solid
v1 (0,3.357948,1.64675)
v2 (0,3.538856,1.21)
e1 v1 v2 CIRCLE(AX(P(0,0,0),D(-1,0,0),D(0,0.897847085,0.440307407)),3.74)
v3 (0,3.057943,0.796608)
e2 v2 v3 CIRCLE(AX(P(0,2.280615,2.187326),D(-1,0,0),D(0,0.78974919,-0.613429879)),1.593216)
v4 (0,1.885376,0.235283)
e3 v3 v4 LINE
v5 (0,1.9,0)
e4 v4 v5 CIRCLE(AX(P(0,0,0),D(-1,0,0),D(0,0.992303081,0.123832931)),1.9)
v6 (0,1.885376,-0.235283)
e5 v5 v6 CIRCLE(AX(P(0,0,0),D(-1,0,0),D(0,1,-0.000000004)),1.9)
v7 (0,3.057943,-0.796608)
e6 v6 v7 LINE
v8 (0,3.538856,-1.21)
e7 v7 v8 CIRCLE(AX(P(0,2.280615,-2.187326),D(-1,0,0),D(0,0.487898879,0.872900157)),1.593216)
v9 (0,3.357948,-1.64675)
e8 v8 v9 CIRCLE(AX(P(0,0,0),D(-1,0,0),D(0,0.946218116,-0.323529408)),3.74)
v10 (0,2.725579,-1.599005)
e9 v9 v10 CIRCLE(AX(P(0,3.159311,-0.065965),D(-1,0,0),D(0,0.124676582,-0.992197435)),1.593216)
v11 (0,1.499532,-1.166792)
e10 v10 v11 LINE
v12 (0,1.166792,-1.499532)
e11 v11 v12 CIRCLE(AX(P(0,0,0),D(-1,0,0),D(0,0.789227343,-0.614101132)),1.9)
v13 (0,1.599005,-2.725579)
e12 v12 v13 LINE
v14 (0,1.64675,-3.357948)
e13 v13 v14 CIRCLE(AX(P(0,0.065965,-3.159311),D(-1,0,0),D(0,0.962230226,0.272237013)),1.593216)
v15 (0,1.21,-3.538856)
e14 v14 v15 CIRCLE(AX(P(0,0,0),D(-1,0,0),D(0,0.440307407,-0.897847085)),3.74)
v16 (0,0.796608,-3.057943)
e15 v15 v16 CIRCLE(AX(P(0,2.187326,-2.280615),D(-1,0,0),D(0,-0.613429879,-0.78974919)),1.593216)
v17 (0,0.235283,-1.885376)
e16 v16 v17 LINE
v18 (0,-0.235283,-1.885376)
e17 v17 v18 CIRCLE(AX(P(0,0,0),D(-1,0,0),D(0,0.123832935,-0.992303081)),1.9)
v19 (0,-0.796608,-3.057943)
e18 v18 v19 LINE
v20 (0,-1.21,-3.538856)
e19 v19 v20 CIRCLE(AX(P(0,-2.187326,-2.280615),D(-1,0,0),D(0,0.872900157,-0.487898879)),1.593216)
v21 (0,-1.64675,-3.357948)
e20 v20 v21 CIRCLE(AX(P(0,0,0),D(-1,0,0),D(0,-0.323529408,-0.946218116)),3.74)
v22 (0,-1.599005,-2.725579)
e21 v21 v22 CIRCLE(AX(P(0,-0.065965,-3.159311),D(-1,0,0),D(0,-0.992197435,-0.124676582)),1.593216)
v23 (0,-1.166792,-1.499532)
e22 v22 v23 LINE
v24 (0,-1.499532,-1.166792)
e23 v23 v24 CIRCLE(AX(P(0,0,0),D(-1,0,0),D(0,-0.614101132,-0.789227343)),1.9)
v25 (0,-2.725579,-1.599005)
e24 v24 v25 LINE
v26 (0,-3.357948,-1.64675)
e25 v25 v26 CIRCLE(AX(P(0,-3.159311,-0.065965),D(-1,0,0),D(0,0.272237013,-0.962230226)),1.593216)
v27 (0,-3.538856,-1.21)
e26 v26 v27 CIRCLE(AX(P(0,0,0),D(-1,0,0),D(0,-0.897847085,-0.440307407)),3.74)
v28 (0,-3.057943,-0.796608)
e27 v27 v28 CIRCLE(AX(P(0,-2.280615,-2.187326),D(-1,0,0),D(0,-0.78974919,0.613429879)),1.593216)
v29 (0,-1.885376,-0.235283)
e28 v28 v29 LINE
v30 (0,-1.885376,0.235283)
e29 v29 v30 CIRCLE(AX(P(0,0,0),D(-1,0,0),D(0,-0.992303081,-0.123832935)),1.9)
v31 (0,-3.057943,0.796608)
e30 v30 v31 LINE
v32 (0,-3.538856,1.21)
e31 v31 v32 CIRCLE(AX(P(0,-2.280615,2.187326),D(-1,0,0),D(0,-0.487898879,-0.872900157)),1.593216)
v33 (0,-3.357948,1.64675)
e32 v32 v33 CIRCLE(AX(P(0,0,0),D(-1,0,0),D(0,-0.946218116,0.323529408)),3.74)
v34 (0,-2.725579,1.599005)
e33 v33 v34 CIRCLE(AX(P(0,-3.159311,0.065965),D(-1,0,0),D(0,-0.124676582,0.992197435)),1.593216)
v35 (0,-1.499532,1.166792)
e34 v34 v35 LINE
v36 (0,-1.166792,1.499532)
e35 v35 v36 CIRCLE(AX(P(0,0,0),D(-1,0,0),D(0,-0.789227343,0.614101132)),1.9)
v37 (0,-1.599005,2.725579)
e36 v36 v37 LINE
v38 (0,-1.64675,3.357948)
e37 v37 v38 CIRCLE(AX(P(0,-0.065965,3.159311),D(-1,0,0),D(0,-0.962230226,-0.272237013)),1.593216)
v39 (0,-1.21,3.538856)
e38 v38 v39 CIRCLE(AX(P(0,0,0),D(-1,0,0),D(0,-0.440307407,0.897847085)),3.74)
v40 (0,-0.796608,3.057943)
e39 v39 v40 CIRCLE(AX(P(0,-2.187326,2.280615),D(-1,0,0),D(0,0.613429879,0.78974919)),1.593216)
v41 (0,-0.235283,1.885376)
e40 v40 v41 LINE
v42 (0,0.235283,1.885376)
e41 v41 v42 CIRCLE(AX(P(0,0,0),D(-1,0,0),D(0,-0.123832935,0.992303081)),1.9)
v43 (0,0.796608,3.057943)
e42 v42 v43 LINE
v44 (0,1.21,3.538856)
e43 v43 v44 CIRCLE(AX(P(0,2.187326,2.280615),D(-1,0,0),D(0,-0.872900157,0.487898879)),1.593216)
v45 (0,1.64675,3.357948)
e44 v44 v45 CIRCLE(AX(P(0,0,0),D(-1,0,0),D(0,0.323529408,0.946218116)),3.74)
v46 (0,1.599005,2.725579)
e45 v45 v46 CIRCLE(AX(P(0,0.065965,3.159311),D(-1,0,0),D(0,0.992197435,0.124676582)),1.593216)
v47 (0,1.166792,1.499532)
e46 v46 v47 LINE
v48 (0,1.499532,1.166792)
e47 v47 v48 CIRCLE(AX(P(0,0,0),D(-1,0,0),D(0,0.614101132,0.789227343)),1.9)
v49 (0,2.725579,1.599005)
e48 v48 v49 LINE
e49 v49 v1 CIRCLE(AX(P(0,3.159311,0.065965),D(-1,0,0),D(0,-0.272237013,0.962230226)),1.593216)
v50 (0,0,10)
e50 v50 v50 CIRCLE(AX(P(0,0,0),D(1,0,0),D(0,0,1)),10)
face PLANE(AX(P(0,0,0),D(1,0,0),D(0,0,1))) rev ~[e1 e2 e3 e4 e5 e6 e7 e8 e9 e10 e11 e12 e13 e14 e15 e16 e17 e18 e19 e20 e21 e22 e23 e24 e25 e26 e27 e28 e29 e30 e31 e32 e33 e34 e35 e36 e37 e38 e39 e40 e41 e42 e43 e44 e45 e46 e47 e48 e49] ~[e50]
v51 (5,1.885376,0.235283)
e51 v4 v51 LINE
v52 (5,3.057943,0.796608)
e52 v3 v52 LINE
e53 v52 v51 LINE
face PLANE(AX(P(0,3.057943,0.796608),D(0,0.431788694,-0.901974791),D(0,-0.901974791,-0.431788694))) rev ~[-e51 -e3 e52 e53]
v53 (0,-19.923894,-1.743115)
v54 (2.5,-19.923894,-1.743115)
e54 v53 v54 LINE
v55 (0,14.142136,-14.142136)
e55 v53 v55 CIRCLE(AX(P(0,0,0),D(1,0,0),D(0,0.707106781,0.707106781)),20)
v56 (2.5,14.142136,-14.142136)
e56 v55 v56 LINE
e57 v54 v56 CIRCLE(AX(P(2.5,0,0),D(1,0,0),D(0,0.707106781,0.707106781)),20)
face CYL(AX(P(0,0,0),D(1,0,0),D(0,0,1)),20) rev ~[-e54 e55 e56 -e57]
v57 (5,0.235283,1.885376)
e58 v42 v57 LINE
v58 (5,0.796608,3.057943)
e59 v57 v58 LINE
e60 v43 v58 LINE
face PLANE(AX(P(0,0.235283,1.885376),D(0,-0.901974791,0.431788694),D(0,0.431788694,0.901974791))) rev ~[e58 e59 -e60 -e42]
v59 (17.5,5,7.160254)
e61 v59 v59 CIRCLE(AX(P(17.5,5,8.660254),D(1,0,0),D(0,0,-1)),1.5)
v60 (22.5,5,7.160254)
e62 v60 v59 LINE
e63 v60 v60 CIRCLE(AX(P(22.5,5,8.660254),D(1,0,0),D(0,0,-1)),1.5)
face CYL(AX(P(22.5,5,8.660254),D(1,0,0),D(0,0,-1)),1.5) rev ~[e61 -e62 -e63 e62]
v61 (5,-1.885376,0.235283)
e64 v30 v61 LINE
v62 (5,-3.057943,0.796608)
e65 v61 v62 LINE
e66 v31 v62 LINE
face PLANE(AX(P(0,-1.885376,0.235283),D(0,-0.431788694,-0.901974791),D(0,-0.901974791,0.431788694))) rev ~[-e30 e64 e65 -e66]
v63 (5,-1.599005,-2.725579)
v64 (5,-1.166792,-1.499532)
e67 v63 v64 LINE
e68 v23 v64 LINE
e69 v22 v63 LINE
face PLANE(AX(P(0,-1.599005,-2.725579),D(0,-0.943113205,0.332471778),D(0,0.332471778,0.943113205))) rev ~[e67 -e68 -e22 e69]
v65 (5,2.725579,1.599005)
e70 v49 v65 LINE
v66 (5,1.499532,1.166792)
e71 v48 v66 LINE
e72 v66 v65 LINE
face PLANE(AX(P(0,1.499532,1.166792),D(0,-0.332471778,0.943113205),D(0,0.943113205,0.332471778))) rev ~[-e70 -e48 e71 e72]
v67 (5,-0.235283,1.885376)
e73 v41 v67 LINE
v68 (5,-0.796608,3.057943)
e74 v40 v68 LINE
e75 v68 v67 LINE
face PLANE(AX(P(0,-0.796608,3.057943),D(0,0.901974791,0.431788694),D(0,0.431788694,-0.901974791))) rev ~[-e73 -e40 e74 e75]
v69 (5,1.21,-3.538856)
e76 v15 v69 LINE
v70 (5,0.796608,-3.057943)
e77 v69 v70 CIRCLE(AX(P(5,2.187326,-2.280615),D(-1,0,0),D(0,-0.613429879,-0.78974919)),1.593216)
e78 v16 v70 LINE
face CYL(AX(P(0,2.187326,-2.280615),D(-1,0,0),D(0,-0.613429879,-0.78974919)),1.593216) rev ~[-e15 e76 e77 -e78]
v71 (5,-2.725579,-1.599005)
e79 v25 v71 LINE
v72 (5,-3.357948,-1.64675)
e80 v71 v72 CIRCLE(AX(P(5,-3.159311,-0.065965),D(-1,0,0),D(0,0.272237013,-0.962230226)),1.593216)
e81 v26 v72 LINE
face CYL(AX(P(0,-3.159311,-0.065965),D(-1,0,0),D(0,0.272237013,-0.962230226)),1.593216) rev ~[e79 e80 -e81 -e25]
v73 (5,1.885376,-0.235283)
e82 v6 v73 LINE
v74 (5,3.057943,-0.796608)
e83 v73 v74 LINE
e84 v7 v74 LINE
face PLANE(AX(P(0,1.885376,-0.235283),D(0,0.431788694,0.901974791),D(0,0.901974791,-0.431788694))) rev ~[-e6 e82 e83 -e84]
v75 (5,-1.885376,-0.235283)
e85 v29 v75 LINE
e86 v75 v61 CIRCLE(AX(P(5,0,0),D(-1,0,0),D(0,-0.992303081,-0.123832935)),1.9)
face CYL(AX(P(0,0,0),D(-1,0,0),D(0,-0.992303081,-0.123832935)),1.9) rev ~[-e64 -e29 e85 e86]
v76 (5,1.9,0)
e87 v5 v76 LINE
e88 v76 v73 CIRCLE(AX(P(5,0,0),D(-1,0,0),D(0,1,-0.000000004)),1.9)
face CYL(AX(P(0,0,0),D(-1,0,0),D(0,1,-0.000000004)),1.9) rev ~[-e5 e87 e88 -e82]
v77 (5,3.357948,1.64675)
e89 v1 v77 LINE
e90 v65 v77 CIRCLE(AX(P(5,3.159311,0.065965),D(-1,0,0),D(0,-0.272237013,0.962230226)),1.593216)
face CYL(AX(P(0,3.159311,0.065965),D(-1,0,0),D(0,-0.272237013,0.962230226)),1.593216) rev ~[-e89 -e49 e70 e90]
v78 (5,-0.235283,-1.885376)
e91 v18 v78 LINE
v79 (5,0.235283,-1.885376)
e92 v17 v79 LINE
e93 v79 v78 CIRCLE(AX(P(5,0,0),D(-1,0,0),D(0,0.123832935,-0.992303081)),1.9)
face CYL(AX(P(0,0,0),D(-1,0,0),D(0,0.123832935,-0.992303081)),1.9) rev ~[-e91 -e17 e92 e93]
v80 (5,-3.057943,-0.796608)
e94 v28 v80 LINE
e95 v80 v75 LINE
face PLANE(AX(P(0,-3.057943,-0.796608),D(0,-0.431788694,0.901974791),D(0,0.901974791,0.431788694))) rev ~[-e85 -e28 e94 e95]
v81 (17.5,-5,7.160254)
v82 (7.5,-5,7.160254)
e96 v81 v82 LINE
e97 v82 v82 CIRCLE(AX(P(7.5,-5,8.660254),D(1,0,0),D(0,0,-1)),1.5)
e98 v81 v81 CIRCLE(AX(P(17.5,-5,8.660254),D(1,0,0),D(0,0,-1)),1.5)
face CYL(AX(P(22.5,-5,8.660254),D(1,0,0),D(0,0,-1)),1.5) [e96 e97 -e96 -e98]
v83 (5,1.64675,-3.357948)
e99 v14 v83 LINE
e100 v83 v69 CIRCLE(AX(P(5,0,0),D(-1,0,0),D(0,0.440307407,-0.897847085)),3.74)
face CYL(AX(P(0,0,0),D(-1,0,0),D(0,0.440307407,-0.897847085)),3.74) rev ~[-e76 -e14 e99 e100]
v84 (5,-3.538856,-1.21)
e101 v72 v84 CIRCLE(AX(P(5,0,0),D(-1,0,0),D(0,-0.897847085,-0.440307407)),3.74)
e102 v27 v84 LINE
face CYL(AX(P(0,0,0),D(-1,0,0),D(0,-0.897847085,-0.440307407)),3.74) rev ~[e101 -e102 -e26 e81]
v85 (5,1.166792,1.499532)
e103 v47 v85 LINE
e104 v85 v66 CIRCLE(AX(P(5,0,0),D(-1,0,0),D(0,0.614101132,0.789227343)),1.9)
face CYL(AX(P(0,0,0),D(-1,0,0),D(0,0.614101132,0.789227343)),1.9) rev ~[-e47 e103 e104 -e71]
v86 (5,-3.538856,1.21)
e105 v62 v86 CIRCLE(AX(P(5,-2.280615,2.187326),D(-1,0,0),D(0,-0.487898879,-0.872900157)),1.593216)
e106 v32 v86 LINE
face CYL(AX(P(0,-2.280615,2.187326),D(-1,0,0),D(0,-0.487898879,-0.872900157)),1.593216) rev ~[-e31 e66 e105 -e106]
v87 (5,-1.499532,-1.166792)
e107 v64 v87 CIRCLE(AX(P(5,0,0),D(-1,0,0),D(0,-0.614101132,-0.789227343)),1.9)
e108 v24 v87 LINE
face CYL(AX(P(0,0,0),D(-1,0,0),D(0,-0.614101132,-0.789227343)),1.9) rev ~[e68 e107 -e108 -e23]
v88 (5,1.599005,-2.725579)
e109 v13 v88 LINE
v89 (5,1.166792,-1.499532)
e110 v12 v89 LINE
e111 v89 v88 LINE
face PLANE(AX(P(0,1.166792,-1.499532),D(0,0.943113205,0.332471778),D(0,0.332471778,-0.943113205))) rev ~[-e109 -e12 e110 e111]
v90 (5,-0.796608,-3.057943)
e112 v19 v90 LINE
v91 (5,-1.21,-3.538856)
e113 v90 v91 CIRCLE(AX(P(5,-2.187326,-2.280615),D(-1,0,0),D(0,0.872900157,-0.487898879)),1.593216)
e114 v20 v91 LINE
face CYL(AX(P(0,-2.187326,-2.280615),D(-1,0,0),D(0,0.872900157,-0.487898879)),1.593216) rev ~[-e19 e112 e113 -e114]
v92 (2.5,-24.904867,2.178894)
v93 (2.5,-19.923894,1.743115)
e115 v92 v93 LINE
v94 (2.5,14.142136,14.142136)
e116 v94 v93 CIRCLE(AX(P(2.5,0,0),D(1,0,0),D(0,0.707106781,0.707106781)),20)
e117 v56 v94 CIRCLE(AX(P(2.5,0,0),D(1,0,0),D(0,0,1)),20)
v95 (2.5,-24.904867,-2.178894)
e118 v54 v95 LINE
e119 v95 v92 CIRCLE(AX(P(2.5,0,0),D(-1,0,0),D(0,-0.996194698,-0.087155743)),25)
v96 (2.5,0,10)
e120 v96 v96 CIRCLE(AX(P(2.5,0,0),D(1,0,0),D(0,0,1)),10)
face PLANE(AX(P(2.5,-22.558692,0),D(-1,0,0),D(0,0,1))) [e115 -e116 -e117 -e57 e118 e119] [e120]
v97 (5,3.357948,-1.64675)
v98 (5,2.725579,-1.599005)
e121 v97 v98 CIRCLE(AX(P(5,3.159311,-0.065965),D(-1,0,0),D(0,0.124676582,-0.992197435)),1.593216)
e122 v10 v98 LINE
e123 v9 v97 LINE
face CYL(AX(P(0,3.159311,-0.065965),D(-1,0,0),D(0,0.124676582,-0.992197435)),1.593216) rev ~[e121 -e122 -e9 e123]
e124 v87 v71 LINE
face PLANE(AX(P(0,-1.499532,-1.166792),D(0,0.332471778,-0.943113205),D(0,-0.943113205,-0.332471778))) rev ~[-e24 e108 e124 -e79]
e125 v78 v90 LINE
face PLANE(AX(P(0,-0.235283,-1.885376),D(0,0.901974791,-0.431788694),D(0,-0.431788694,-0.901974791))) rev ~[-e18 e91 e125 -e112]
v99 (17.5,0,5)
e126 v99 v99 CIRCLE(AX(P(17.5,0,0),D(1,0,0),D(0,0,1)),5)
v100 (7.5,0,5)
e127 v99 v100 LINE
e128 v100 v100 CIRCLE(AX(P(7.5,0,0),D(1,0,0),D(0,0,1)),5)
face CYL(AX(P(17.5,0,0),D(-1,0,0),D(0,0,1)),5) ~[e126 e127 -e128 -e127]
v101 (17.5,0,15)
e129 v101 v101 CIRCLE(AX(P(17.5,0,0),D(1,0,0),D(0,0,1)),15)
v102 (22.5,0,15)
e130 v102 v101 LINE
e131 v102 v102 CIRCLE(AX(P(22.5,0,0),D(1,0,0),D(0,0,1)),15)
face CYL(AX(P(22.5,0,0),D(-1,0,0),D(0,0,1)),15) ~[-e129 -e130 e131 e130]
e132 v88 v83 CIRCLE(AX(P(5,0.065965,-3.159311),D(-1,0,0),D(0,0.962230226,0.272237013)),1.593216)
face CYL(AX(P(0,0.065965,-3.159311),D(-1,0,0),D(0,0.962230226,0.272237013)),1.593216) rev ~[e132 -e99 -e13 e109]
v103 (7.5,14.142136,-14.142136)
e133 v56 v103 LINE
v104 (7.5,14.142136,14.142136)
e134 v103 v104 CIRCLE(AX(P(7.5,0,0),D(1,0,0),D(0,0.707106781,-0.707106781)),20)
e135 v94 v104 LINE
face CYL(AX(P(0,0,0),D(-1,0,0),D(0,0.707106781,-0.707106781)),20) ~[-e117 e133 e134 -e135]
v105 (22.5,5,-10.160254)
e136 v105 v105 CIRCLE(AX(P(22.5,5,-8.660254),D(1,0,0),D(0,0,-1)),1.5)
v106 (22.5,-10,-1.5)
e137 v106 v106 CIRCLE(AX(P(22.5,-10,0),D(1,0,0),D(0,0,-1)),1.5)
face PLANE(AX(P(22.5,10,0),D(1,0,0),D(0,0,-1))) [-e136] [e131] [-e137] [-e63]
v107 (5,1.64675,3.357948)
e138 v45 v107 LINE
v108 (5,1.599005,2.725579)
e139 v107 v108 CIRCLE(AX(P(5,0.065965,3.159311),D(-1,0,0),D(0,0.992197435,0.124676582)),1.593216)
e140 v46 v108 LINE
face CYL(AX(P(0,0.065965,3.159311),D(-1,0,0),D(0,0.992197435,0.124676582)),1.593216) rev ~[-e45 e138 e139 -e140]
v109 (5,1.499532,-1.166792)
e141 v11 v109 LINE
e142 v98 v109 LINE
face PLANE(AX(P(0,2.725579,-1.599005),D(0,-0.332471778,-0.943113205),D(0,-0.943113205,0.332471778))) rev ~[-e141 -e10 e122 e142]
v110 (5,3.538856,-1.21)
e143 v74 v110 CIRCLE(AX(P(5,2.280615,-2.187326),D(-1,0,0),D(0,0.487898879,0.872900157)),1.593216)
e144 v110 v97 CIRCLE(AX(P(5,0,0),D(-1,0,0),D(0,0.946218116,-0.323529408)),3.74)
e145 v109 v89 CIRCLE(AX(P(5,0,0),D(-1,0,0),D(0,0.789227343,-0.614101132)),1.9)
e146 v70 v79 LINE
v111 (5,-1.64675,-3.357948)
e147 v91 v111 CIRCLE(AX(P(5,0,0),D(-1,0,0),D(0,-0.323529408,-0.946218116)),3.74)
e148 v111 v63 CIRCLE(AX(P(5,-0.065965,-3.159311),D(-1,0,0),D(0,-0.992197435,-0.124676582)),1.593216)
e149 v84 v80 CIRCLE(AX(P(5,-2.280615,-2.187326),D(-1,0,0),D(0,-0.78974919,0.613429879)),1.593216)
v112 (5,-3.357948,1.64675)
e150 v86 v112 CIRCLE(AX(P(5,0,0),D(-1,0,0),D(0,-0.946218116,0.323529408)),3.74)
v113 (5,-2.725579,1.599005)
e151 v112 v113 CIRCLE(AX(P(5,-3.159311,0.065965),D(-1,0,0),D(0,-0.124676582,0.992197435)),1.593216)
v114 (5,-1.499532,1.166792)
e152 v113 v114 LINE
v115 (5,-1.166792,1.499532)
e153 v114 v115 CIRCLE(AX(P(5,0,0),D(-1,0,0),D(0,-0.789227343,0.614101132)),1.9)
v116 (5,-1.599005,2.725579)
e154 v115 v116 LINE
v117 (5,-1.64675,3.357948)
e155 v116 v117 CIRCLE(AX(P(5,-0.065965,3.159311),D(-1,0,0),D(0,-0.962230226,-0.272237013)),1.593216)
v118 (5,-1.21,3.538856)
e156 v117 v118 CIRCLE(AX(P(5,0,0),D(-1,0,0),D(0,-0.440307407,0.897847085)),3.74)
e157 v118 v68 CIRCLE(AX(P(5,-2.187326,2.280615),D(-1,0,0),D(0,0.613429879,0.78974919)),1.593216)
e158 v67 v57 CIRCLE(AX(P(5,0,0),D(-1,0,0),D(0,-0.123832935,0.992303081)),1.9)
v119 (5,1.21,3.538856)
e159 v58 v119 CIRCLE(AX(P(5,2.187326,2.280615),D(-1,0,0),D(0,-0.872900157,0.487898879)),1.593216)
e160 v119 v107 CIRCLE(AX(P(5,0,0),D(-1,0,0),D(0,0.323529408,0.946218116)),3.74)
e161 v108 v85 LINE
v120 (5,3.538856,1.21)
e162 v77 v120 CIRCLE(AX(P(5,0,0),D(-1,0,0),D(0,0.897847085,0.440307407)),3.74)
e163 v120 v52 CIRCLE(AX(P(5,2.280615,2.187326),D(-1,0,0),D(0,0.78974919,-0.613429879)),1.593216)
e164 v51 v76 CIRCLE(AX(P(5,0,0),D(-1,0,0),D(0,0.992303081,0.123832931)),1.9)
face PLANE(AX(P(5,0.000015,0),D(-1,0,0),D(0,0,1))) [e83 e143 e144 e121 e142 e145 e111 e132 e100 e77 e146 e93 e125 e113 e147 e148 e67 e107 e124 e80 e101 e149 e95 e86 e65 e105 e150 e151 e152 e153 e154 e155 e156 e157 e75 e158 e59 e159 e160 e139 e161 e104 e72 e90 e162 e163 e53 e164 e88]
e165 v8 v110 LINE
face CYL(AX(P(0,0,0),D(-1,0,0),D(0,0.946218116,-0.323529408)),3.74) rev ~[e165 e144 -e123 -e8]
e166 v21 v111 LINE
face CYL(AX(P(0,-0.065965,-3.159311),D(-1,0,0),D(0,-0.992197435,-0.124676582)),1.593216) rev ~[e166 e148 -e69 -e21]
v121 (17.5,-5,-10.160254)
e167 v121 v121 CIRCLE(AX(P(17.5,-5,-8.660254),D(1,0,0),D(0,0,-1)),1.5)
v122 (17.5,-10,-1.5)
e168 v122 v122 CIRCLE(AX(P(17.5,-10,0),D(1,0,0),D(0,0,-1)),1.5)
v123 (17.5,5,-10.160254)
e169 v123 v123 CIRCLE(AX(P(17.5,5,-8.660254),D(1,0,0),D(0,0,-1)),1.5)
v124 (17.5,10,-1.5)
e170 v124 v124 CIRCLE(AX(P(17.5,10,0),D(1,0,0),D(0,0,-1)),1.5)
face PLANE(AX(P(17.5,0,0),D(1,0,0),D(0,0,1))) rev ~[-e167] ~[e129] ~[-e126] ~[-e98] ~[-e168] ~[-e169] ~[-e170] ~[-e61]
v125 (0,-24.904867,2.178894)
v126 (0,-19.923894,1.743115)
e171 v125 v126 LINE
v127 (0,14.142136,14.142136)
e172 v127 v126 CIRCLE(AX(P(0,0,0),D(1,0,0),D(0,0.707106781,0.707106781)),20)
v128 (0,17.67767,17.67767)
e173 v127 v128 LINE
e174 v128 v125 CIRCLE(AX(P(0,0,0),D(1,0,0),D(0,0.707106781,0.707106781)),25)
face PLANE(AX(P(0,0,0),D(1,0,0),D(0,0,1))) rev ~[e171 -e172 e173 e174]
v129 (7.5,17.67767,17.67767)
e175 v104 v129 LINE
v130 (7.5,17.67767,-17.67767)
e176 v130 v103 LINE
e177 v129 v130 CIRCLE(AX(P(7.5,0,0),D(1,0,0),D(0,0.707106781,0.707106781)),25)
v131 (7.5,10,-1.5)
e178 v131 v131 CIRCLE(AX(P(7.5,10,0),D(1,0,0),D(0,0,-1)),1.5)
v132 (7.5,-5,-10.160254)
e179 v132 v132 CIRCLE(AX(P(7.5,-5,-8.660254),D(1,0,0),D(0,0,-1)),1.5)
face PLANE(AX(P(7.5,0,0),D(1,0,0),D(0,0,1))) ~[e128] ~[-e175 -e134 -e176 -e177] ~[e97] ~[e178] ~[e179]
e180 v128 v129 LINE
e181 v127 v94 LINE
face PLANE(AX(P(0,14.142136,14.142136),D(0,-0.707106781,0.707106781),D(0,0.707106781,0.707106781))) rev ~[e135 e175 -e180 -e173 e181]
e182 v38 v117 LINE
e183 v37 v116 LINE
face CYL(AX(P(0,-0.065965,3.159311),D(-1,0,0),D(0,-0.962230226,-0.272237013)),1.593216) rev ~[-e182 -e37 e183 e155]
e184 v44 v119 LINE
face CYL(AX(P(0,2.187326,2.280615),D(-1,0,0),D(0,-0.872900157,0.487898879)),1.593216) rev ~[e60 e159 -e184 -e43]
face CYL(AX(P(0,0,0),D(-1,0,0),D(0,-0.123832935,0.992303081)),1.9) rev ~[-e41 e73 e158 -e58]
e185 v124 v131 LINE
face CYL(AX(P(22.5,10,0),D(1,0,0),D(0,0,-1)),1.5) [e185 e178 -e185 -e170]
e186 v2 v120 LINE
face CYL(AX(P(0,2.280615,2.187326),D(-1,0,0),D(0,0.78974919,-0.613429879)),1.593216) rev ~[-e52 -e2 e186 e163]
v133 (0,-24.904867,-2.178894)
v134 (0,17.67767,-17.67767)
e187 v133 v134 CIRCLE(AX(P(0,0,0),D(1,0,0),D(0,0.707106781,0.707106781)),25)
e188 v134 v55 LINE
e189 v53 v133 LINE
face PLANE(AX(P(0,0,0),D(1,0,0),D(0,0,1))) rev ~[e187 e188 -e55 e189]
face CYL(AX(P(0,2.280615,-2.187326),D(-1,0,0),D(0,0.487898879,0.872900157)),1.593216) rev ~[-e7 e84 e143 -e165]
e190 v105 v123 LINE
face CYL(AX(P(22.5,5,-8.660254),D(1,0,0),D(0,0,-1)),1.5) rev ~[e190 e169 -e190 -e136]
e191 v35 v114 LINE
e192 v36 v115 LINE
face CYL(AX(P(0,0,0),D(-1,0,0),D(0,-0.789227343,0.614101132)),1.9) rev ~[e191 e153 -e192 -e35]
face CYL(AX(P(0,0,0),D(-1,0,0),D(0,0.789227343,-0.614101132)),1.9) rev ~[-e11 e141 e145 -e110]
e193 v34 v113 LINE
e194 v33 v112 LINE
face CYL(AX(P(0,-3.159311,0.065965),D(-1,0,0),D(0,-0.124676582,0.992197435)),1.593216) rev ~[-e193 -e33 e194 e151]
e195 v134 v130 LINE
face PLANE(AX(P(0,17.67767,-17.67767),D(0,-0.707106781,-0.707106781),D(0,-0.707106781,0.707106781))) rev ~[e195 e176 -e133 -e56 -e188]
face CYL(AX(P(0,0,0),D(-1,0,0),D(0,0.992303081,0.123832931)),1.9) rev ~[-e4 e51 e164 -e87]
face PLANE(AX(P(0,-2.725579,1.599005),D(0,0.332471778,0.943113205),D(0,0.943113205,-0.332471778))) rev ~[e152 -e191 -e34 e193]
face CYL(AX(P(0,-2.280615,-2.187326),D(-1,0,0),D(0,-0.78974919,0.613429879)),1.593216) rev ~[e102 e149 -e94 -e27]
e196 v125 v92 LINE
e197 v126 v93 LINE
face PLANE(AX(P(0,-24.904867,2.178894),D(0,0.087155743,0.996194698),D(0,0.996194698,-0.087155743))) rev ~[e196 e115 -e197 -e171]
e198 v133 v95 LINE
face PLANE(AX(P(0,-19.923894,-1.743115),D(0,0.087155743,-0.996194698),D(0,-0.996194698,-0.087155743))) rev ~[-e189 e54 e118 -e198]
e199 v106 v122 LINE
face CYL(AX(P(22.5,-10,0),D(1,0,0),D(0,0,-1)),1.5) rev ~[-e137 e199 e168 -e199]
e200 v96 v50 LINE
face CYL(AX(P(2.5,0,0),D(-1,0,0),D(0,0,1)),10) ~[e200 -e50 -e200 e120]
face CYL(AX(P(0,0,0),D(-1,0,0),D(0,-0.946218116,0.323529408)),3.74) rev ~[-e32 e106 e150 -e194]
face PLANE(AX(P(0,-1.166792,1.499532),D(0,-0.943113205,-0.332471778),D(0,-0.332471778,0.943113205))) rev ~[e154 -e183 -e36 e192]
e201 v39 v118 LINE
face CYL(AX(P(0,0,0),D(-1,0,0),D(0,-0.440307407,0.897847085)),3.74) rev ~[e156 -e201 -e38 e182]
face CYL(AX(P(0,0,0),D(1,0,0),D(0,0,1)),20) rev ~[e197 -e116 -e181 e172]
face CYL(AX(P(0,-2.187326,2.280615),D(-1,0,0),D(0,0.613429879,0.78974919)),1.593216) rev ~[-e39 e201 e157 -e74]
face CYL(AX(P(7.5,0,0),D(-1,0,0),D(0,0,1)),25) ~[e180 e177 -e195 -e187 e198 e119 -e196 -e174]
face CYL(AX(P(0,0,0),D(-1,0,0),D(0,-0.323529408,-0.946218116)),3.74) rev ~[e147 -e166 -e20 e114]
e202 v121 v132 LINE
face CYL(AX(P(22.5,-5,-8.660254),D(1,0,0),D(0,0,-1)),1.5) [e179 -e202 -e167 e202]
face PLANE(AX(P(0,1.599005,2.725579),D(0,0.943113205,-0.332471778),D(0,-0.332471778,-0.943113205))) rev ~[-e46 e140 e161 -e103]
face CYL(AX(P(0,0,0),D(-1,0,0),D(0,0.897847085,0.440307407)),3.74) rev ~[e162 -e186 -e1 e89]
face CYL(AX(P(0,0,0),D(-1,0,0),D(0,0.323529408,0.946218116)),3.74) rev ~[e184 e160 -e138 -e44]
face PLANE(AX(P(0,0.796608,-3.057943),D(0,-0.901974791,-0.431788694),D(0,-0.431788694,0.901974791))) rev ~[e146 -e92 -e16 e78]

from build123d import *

# Parameters (mm, degrees)
CORTAR_EXTRUIR2_DEPTH   = 7.5
CORTAR_EXTRUIR3_DEPTH   = 2.5
CROQUIS5_R              = 1.5
CORTAR_EXTRUIR4_DEPTH   = 5
CROQUIS6_R              = 1.5
SALIENTE_EXTRUIR1_DEPTH = 15
CORTAR_EXTRUIR5_DEPTH   = 5


with BuildPart() as part:
    # Croquis1 → Revolución1 (revolve)
    with BuildSketch(Plane(origin=(0, 0, 0), x_dir=(1, 0, 0), z_dir=(0, 1, 0)), mode=Mode.PRIVATE) as revoluci_n1_sk:
        Polygon((0, 0), (22.5, 0), (22.5, 15), (17.5, 15), (17.5, 5), (7.5, 5), (7.5, 25), (0, 25), (0, 20), (2.5, 20), (2.5, 10), (0, 10), align=None)
    revolve(revoluci_n1_sk.sketch.rotate(Axis((0, 0, 0), (1, 0, 0)), 180), axis=Axis((0, 0, 0), (1, 0, 0)))

    # Croquis2 → Cortar-Extruir2 (cut)
    with BuildSketch(Plane.ZY):
        with BuildLine():
            ThreePointArc((-14.142135624, 14.142135624), (0, 20), (14.142135624, 14.142135624))
            Line((14.142135624, 14.142135624), (17.67766953, 17.67766953))
            ThreePointArc((17.67766953, 17.67766953), (0, 25), (-17.67766953, 17.67766953))
            Line((-17.67766953, 17.67766953), (-14.142135624, 14.142135624))
        make_face()
    extrude(amount=-CORTAR_EXTRUIR2_DEPTH, mode=Mode.SUBTRACT)

    # Croquis4 → Cortar-Extruir3 (cut)
    with BuildSketch(Plane.ZY):
        with BuildLine():
            ThreePointArc((1.743114855, -19.923893962), (0, -20), (-1.743114855, -19.923893962))
            Line((-1.743114855, -19.923893962), (-2.178893569, -24.904867452))
            ThreePointArc((-2.178893569, -24.904867452), (0, -25), (2.178893569, -24.904867452))
            Line((2.178893569, -24.904867452), (1.743114855, -19.923893962))
        make_face()
    extrude(amount=-CORTAR_EXTRUIR3_DEPTH, mode=Mode.SUBTRACT)

    # Croquis5 → Cortar-Extruir4 (cut)
    with BuildSketch(Plane(origin=(22.5, 0, 0), x_dir=(0, 0, -1), z_dir=(1, 0, 0))):
        with Locations((0, -10)):
            Circle(CROQUIS5_R)
        with Locations((-8.660254038, 5)):
            Circle(CROQUIS5_R)
        with Locations((8.660254038, 5)):
            Circle(CROQUIS5_R)
    extrude(amount=-CORTAR_EXTRUIR4_DEPTH, mode=Mode.SUBTRACT)

    # Croquis6 → Saliente-Extruir1 (add)
    with BuildSketch(Plane(origin=(22.5, 0, 0), x_dir=(0, 0, -1), z_dir=(1, 0, 0))):
        with Locations((0, 10)):
            Circle(CROQUIS6_R)
        with Locations((8.660254038, -5)):
            Circle(CROQUIS6_R)
        with Locations((-8.660254038, -5)):
            Circle(CROQUIS6_R)
    extrude(amount=-SALIENTE_EXTRUIR1_DEPTH)

    # Croquis7 → Cortar-Extruir5 (cut)
    with BuildSketch(Plane.ZY):
        with BuildLine():
            Line((-0.23528257, 1.885375854), (-0.796607872, 3.057943083))
            ThreePointArc((-0.796607872, 3.057943083), (-0.979134174, 3.319175723), (-1.21, 3.538855747))
            ThreePointArc((-1.21, 3.538855747), (-1.431236037, 3.455309452), (-1.646749691, 3.357948102))
            ThreePointArc((-1.646749691, 3.357948102), (-1.654659248, 3.039364075), (-1.599005463, 2.725579118))
            Line((-1.599005463, 2.725579118), (-1.166792151, 1.499531952))
            ThreePointArc((-1.166792151, 1.499531952), (-1.343502884, 1.343502884), (-1.499531952, 1.166792151))
            Line((-1.499531952, 1.166792151), (-2.725579118, 1.599005463))
            ThreePointArc((-2.725579118, 1.599005463), (-3.039364075, 1.654659248), (-3.357948102, 1.646749691))
            ThreePointArc((-3.357948102, 1.646749691), (-3.455309452, 1.431236037), (-3.538855747, 1.21))
            ThreePointArc((-3.538855747, 1.21), (-3.319175723, 0.979134174), (-3.057943083, 0.796607872))
            Line((-3.057943083, 0.796607872), (-1.885375854, 0.23528257))
            ThreePointArc((-1.885375854, 0.23528257), (-1.9, 0), (-1.885375854, -0.23528257))
            Line((-1.885375854, -0.23528257), (-3.057943083, -0.796607872))
            ThreePointArc((-3.057943083, -0.796607872), (-3.319175723, -0.979134174), (-3.538855747, -1.21))
            ThreePointArc((-3.538855747, -1.21), (-3.455309452, -1.431236037), (-3.357948102, -1.646749691))
            ThreePointArc((-3.357948102, -1.646749691), (-3.039364075, -1.654659248), (-2.725579118, -1.599005463))
            Line((-2.725579118, -1.599005463), (-1.499531952, -1.166792151))
            ThreePointArc((-1.499531952, -1.166792151), (-1.343502884, -1.343502884), (-1.166792151, -1.499531952))
            Line((-1.166792151, -1.499531952), (-1.599005463, -2.725579118))
            ThreePointArc((-1.599005463, -2.725579118), (-1.654659248, -3.039364075), (-1.646749691, -3.357948102))
            ThreePointArc((-1.646749691, -3.357948102), (-1.431236037, -3.455309452), (-1.21, -3.538855747))
            ThreePointArc((-1.21, -3.538855747), (-0.979134174, -3.319175723), (-0.796607872, -3.057943083))
            Line((-0.796607872, -3.057943083), (-0.23528257, -1.885375854))
            ThreePointArc((-0.23528257, -1.885375854), (0, -1.9), (0.23528257, -1.885375854))
            Line((0.23528257, -1.885375854), (0.796607872, -3.057943083))
            ThreePointArc((0.796607872, -3.057943083), (0.979134174, -3.319175723), (1.21, -3.538855747))
            ThreePointArc((1.21, -3.538855747), (1.431236037, -3.455309452), (1.646749691, -3.357948102))
            ThreePointArc((1.646749691, -3.357948102), (1.654659248, -3.039364075), (1.599005463, -2.725579118))
            Line((1.599005463, -2.725579118), (1.166792151, -1.499531952))
            ThreePointArc((1.166792151, -1.499531952), (1.343502884, -1.343502884), (1.499531952, -1.166792151))
            Line((1.499531952, -1.166792151), (2.725579118, -1.599005463))
            ThreePointArc((2.725579118, -1.599005463), (3.039364075, -1.654659248), (3.357948102, -1.646749691))
            ThreePointArc((3.357948102, -1.646749691), (3.455309452, -1.431236037), (3.538855747, -1.21))
            ThreePointArc((3.538855747, -1.21), (3.319175723, -0.979134174), (3.057943083, -0.796607872))
            Line((3.057943083, -0.796607872), (1.885375854, -0.23528257))
            ThreePointArc((1.885375854, -0.23528257), (1.9, 0), (1.885375854, 0.23528257))
            Line((1.885375854, 0.23528257), (3.057943083, 0.796607872))
            ThreePointArc((3.057943083, 0.796607872), (3.319175723, 0.979134174), (3.538855747, 1.21))
            ThreePointArc((3.538855747, 1.21), (3.455309452, 1.431236037), (3.357948102, 1.646749691))
            ThreePointArc((3.357948102, 1.646749691), (3.039364075, 1.654659248), (2.725579118, 1.599005463))
            Line((2.725579118, 1.599005463), (1.499531952, 1.166792151))
            ThreePointArc((1.499531952, 1.166792151), (1.343502884, 1.343502884), (1.166792151, 1.499531952))
            Line((1.166792151, 1.499531952), (1.599005463, 2.725579118))
            ThreePointArc((1.599005463, 2.725579118), (1.654659248, 3.039364075), (1.646749691, 3.357948102))
            ThreePointArc((1.646749691, 3.357948102), (1.431236037, 3.455309452), (1.21, 3.538855747))
            ThreePointArc((1.21, 3.538855747), (0.979134174, 3.319175723), (0.796607872, 3.057943083))
            Line((0.796607872, 3.057943083), (0.23528257, 1.885375854))
            ThreePointArc((0.23528257, 1.885375854), (0.117868309, 1.896340439), (0, 1.9))
            ThreePointArc((0, 1.9), (-0.117868309, 1.896340439), (-0.23528257, 1.885375854))
        make_face()
    extrude(amount=-CORTAR_EXTRUIR5_DEPTH, mode=Mode.SUBTRACT)


solid = part.part
